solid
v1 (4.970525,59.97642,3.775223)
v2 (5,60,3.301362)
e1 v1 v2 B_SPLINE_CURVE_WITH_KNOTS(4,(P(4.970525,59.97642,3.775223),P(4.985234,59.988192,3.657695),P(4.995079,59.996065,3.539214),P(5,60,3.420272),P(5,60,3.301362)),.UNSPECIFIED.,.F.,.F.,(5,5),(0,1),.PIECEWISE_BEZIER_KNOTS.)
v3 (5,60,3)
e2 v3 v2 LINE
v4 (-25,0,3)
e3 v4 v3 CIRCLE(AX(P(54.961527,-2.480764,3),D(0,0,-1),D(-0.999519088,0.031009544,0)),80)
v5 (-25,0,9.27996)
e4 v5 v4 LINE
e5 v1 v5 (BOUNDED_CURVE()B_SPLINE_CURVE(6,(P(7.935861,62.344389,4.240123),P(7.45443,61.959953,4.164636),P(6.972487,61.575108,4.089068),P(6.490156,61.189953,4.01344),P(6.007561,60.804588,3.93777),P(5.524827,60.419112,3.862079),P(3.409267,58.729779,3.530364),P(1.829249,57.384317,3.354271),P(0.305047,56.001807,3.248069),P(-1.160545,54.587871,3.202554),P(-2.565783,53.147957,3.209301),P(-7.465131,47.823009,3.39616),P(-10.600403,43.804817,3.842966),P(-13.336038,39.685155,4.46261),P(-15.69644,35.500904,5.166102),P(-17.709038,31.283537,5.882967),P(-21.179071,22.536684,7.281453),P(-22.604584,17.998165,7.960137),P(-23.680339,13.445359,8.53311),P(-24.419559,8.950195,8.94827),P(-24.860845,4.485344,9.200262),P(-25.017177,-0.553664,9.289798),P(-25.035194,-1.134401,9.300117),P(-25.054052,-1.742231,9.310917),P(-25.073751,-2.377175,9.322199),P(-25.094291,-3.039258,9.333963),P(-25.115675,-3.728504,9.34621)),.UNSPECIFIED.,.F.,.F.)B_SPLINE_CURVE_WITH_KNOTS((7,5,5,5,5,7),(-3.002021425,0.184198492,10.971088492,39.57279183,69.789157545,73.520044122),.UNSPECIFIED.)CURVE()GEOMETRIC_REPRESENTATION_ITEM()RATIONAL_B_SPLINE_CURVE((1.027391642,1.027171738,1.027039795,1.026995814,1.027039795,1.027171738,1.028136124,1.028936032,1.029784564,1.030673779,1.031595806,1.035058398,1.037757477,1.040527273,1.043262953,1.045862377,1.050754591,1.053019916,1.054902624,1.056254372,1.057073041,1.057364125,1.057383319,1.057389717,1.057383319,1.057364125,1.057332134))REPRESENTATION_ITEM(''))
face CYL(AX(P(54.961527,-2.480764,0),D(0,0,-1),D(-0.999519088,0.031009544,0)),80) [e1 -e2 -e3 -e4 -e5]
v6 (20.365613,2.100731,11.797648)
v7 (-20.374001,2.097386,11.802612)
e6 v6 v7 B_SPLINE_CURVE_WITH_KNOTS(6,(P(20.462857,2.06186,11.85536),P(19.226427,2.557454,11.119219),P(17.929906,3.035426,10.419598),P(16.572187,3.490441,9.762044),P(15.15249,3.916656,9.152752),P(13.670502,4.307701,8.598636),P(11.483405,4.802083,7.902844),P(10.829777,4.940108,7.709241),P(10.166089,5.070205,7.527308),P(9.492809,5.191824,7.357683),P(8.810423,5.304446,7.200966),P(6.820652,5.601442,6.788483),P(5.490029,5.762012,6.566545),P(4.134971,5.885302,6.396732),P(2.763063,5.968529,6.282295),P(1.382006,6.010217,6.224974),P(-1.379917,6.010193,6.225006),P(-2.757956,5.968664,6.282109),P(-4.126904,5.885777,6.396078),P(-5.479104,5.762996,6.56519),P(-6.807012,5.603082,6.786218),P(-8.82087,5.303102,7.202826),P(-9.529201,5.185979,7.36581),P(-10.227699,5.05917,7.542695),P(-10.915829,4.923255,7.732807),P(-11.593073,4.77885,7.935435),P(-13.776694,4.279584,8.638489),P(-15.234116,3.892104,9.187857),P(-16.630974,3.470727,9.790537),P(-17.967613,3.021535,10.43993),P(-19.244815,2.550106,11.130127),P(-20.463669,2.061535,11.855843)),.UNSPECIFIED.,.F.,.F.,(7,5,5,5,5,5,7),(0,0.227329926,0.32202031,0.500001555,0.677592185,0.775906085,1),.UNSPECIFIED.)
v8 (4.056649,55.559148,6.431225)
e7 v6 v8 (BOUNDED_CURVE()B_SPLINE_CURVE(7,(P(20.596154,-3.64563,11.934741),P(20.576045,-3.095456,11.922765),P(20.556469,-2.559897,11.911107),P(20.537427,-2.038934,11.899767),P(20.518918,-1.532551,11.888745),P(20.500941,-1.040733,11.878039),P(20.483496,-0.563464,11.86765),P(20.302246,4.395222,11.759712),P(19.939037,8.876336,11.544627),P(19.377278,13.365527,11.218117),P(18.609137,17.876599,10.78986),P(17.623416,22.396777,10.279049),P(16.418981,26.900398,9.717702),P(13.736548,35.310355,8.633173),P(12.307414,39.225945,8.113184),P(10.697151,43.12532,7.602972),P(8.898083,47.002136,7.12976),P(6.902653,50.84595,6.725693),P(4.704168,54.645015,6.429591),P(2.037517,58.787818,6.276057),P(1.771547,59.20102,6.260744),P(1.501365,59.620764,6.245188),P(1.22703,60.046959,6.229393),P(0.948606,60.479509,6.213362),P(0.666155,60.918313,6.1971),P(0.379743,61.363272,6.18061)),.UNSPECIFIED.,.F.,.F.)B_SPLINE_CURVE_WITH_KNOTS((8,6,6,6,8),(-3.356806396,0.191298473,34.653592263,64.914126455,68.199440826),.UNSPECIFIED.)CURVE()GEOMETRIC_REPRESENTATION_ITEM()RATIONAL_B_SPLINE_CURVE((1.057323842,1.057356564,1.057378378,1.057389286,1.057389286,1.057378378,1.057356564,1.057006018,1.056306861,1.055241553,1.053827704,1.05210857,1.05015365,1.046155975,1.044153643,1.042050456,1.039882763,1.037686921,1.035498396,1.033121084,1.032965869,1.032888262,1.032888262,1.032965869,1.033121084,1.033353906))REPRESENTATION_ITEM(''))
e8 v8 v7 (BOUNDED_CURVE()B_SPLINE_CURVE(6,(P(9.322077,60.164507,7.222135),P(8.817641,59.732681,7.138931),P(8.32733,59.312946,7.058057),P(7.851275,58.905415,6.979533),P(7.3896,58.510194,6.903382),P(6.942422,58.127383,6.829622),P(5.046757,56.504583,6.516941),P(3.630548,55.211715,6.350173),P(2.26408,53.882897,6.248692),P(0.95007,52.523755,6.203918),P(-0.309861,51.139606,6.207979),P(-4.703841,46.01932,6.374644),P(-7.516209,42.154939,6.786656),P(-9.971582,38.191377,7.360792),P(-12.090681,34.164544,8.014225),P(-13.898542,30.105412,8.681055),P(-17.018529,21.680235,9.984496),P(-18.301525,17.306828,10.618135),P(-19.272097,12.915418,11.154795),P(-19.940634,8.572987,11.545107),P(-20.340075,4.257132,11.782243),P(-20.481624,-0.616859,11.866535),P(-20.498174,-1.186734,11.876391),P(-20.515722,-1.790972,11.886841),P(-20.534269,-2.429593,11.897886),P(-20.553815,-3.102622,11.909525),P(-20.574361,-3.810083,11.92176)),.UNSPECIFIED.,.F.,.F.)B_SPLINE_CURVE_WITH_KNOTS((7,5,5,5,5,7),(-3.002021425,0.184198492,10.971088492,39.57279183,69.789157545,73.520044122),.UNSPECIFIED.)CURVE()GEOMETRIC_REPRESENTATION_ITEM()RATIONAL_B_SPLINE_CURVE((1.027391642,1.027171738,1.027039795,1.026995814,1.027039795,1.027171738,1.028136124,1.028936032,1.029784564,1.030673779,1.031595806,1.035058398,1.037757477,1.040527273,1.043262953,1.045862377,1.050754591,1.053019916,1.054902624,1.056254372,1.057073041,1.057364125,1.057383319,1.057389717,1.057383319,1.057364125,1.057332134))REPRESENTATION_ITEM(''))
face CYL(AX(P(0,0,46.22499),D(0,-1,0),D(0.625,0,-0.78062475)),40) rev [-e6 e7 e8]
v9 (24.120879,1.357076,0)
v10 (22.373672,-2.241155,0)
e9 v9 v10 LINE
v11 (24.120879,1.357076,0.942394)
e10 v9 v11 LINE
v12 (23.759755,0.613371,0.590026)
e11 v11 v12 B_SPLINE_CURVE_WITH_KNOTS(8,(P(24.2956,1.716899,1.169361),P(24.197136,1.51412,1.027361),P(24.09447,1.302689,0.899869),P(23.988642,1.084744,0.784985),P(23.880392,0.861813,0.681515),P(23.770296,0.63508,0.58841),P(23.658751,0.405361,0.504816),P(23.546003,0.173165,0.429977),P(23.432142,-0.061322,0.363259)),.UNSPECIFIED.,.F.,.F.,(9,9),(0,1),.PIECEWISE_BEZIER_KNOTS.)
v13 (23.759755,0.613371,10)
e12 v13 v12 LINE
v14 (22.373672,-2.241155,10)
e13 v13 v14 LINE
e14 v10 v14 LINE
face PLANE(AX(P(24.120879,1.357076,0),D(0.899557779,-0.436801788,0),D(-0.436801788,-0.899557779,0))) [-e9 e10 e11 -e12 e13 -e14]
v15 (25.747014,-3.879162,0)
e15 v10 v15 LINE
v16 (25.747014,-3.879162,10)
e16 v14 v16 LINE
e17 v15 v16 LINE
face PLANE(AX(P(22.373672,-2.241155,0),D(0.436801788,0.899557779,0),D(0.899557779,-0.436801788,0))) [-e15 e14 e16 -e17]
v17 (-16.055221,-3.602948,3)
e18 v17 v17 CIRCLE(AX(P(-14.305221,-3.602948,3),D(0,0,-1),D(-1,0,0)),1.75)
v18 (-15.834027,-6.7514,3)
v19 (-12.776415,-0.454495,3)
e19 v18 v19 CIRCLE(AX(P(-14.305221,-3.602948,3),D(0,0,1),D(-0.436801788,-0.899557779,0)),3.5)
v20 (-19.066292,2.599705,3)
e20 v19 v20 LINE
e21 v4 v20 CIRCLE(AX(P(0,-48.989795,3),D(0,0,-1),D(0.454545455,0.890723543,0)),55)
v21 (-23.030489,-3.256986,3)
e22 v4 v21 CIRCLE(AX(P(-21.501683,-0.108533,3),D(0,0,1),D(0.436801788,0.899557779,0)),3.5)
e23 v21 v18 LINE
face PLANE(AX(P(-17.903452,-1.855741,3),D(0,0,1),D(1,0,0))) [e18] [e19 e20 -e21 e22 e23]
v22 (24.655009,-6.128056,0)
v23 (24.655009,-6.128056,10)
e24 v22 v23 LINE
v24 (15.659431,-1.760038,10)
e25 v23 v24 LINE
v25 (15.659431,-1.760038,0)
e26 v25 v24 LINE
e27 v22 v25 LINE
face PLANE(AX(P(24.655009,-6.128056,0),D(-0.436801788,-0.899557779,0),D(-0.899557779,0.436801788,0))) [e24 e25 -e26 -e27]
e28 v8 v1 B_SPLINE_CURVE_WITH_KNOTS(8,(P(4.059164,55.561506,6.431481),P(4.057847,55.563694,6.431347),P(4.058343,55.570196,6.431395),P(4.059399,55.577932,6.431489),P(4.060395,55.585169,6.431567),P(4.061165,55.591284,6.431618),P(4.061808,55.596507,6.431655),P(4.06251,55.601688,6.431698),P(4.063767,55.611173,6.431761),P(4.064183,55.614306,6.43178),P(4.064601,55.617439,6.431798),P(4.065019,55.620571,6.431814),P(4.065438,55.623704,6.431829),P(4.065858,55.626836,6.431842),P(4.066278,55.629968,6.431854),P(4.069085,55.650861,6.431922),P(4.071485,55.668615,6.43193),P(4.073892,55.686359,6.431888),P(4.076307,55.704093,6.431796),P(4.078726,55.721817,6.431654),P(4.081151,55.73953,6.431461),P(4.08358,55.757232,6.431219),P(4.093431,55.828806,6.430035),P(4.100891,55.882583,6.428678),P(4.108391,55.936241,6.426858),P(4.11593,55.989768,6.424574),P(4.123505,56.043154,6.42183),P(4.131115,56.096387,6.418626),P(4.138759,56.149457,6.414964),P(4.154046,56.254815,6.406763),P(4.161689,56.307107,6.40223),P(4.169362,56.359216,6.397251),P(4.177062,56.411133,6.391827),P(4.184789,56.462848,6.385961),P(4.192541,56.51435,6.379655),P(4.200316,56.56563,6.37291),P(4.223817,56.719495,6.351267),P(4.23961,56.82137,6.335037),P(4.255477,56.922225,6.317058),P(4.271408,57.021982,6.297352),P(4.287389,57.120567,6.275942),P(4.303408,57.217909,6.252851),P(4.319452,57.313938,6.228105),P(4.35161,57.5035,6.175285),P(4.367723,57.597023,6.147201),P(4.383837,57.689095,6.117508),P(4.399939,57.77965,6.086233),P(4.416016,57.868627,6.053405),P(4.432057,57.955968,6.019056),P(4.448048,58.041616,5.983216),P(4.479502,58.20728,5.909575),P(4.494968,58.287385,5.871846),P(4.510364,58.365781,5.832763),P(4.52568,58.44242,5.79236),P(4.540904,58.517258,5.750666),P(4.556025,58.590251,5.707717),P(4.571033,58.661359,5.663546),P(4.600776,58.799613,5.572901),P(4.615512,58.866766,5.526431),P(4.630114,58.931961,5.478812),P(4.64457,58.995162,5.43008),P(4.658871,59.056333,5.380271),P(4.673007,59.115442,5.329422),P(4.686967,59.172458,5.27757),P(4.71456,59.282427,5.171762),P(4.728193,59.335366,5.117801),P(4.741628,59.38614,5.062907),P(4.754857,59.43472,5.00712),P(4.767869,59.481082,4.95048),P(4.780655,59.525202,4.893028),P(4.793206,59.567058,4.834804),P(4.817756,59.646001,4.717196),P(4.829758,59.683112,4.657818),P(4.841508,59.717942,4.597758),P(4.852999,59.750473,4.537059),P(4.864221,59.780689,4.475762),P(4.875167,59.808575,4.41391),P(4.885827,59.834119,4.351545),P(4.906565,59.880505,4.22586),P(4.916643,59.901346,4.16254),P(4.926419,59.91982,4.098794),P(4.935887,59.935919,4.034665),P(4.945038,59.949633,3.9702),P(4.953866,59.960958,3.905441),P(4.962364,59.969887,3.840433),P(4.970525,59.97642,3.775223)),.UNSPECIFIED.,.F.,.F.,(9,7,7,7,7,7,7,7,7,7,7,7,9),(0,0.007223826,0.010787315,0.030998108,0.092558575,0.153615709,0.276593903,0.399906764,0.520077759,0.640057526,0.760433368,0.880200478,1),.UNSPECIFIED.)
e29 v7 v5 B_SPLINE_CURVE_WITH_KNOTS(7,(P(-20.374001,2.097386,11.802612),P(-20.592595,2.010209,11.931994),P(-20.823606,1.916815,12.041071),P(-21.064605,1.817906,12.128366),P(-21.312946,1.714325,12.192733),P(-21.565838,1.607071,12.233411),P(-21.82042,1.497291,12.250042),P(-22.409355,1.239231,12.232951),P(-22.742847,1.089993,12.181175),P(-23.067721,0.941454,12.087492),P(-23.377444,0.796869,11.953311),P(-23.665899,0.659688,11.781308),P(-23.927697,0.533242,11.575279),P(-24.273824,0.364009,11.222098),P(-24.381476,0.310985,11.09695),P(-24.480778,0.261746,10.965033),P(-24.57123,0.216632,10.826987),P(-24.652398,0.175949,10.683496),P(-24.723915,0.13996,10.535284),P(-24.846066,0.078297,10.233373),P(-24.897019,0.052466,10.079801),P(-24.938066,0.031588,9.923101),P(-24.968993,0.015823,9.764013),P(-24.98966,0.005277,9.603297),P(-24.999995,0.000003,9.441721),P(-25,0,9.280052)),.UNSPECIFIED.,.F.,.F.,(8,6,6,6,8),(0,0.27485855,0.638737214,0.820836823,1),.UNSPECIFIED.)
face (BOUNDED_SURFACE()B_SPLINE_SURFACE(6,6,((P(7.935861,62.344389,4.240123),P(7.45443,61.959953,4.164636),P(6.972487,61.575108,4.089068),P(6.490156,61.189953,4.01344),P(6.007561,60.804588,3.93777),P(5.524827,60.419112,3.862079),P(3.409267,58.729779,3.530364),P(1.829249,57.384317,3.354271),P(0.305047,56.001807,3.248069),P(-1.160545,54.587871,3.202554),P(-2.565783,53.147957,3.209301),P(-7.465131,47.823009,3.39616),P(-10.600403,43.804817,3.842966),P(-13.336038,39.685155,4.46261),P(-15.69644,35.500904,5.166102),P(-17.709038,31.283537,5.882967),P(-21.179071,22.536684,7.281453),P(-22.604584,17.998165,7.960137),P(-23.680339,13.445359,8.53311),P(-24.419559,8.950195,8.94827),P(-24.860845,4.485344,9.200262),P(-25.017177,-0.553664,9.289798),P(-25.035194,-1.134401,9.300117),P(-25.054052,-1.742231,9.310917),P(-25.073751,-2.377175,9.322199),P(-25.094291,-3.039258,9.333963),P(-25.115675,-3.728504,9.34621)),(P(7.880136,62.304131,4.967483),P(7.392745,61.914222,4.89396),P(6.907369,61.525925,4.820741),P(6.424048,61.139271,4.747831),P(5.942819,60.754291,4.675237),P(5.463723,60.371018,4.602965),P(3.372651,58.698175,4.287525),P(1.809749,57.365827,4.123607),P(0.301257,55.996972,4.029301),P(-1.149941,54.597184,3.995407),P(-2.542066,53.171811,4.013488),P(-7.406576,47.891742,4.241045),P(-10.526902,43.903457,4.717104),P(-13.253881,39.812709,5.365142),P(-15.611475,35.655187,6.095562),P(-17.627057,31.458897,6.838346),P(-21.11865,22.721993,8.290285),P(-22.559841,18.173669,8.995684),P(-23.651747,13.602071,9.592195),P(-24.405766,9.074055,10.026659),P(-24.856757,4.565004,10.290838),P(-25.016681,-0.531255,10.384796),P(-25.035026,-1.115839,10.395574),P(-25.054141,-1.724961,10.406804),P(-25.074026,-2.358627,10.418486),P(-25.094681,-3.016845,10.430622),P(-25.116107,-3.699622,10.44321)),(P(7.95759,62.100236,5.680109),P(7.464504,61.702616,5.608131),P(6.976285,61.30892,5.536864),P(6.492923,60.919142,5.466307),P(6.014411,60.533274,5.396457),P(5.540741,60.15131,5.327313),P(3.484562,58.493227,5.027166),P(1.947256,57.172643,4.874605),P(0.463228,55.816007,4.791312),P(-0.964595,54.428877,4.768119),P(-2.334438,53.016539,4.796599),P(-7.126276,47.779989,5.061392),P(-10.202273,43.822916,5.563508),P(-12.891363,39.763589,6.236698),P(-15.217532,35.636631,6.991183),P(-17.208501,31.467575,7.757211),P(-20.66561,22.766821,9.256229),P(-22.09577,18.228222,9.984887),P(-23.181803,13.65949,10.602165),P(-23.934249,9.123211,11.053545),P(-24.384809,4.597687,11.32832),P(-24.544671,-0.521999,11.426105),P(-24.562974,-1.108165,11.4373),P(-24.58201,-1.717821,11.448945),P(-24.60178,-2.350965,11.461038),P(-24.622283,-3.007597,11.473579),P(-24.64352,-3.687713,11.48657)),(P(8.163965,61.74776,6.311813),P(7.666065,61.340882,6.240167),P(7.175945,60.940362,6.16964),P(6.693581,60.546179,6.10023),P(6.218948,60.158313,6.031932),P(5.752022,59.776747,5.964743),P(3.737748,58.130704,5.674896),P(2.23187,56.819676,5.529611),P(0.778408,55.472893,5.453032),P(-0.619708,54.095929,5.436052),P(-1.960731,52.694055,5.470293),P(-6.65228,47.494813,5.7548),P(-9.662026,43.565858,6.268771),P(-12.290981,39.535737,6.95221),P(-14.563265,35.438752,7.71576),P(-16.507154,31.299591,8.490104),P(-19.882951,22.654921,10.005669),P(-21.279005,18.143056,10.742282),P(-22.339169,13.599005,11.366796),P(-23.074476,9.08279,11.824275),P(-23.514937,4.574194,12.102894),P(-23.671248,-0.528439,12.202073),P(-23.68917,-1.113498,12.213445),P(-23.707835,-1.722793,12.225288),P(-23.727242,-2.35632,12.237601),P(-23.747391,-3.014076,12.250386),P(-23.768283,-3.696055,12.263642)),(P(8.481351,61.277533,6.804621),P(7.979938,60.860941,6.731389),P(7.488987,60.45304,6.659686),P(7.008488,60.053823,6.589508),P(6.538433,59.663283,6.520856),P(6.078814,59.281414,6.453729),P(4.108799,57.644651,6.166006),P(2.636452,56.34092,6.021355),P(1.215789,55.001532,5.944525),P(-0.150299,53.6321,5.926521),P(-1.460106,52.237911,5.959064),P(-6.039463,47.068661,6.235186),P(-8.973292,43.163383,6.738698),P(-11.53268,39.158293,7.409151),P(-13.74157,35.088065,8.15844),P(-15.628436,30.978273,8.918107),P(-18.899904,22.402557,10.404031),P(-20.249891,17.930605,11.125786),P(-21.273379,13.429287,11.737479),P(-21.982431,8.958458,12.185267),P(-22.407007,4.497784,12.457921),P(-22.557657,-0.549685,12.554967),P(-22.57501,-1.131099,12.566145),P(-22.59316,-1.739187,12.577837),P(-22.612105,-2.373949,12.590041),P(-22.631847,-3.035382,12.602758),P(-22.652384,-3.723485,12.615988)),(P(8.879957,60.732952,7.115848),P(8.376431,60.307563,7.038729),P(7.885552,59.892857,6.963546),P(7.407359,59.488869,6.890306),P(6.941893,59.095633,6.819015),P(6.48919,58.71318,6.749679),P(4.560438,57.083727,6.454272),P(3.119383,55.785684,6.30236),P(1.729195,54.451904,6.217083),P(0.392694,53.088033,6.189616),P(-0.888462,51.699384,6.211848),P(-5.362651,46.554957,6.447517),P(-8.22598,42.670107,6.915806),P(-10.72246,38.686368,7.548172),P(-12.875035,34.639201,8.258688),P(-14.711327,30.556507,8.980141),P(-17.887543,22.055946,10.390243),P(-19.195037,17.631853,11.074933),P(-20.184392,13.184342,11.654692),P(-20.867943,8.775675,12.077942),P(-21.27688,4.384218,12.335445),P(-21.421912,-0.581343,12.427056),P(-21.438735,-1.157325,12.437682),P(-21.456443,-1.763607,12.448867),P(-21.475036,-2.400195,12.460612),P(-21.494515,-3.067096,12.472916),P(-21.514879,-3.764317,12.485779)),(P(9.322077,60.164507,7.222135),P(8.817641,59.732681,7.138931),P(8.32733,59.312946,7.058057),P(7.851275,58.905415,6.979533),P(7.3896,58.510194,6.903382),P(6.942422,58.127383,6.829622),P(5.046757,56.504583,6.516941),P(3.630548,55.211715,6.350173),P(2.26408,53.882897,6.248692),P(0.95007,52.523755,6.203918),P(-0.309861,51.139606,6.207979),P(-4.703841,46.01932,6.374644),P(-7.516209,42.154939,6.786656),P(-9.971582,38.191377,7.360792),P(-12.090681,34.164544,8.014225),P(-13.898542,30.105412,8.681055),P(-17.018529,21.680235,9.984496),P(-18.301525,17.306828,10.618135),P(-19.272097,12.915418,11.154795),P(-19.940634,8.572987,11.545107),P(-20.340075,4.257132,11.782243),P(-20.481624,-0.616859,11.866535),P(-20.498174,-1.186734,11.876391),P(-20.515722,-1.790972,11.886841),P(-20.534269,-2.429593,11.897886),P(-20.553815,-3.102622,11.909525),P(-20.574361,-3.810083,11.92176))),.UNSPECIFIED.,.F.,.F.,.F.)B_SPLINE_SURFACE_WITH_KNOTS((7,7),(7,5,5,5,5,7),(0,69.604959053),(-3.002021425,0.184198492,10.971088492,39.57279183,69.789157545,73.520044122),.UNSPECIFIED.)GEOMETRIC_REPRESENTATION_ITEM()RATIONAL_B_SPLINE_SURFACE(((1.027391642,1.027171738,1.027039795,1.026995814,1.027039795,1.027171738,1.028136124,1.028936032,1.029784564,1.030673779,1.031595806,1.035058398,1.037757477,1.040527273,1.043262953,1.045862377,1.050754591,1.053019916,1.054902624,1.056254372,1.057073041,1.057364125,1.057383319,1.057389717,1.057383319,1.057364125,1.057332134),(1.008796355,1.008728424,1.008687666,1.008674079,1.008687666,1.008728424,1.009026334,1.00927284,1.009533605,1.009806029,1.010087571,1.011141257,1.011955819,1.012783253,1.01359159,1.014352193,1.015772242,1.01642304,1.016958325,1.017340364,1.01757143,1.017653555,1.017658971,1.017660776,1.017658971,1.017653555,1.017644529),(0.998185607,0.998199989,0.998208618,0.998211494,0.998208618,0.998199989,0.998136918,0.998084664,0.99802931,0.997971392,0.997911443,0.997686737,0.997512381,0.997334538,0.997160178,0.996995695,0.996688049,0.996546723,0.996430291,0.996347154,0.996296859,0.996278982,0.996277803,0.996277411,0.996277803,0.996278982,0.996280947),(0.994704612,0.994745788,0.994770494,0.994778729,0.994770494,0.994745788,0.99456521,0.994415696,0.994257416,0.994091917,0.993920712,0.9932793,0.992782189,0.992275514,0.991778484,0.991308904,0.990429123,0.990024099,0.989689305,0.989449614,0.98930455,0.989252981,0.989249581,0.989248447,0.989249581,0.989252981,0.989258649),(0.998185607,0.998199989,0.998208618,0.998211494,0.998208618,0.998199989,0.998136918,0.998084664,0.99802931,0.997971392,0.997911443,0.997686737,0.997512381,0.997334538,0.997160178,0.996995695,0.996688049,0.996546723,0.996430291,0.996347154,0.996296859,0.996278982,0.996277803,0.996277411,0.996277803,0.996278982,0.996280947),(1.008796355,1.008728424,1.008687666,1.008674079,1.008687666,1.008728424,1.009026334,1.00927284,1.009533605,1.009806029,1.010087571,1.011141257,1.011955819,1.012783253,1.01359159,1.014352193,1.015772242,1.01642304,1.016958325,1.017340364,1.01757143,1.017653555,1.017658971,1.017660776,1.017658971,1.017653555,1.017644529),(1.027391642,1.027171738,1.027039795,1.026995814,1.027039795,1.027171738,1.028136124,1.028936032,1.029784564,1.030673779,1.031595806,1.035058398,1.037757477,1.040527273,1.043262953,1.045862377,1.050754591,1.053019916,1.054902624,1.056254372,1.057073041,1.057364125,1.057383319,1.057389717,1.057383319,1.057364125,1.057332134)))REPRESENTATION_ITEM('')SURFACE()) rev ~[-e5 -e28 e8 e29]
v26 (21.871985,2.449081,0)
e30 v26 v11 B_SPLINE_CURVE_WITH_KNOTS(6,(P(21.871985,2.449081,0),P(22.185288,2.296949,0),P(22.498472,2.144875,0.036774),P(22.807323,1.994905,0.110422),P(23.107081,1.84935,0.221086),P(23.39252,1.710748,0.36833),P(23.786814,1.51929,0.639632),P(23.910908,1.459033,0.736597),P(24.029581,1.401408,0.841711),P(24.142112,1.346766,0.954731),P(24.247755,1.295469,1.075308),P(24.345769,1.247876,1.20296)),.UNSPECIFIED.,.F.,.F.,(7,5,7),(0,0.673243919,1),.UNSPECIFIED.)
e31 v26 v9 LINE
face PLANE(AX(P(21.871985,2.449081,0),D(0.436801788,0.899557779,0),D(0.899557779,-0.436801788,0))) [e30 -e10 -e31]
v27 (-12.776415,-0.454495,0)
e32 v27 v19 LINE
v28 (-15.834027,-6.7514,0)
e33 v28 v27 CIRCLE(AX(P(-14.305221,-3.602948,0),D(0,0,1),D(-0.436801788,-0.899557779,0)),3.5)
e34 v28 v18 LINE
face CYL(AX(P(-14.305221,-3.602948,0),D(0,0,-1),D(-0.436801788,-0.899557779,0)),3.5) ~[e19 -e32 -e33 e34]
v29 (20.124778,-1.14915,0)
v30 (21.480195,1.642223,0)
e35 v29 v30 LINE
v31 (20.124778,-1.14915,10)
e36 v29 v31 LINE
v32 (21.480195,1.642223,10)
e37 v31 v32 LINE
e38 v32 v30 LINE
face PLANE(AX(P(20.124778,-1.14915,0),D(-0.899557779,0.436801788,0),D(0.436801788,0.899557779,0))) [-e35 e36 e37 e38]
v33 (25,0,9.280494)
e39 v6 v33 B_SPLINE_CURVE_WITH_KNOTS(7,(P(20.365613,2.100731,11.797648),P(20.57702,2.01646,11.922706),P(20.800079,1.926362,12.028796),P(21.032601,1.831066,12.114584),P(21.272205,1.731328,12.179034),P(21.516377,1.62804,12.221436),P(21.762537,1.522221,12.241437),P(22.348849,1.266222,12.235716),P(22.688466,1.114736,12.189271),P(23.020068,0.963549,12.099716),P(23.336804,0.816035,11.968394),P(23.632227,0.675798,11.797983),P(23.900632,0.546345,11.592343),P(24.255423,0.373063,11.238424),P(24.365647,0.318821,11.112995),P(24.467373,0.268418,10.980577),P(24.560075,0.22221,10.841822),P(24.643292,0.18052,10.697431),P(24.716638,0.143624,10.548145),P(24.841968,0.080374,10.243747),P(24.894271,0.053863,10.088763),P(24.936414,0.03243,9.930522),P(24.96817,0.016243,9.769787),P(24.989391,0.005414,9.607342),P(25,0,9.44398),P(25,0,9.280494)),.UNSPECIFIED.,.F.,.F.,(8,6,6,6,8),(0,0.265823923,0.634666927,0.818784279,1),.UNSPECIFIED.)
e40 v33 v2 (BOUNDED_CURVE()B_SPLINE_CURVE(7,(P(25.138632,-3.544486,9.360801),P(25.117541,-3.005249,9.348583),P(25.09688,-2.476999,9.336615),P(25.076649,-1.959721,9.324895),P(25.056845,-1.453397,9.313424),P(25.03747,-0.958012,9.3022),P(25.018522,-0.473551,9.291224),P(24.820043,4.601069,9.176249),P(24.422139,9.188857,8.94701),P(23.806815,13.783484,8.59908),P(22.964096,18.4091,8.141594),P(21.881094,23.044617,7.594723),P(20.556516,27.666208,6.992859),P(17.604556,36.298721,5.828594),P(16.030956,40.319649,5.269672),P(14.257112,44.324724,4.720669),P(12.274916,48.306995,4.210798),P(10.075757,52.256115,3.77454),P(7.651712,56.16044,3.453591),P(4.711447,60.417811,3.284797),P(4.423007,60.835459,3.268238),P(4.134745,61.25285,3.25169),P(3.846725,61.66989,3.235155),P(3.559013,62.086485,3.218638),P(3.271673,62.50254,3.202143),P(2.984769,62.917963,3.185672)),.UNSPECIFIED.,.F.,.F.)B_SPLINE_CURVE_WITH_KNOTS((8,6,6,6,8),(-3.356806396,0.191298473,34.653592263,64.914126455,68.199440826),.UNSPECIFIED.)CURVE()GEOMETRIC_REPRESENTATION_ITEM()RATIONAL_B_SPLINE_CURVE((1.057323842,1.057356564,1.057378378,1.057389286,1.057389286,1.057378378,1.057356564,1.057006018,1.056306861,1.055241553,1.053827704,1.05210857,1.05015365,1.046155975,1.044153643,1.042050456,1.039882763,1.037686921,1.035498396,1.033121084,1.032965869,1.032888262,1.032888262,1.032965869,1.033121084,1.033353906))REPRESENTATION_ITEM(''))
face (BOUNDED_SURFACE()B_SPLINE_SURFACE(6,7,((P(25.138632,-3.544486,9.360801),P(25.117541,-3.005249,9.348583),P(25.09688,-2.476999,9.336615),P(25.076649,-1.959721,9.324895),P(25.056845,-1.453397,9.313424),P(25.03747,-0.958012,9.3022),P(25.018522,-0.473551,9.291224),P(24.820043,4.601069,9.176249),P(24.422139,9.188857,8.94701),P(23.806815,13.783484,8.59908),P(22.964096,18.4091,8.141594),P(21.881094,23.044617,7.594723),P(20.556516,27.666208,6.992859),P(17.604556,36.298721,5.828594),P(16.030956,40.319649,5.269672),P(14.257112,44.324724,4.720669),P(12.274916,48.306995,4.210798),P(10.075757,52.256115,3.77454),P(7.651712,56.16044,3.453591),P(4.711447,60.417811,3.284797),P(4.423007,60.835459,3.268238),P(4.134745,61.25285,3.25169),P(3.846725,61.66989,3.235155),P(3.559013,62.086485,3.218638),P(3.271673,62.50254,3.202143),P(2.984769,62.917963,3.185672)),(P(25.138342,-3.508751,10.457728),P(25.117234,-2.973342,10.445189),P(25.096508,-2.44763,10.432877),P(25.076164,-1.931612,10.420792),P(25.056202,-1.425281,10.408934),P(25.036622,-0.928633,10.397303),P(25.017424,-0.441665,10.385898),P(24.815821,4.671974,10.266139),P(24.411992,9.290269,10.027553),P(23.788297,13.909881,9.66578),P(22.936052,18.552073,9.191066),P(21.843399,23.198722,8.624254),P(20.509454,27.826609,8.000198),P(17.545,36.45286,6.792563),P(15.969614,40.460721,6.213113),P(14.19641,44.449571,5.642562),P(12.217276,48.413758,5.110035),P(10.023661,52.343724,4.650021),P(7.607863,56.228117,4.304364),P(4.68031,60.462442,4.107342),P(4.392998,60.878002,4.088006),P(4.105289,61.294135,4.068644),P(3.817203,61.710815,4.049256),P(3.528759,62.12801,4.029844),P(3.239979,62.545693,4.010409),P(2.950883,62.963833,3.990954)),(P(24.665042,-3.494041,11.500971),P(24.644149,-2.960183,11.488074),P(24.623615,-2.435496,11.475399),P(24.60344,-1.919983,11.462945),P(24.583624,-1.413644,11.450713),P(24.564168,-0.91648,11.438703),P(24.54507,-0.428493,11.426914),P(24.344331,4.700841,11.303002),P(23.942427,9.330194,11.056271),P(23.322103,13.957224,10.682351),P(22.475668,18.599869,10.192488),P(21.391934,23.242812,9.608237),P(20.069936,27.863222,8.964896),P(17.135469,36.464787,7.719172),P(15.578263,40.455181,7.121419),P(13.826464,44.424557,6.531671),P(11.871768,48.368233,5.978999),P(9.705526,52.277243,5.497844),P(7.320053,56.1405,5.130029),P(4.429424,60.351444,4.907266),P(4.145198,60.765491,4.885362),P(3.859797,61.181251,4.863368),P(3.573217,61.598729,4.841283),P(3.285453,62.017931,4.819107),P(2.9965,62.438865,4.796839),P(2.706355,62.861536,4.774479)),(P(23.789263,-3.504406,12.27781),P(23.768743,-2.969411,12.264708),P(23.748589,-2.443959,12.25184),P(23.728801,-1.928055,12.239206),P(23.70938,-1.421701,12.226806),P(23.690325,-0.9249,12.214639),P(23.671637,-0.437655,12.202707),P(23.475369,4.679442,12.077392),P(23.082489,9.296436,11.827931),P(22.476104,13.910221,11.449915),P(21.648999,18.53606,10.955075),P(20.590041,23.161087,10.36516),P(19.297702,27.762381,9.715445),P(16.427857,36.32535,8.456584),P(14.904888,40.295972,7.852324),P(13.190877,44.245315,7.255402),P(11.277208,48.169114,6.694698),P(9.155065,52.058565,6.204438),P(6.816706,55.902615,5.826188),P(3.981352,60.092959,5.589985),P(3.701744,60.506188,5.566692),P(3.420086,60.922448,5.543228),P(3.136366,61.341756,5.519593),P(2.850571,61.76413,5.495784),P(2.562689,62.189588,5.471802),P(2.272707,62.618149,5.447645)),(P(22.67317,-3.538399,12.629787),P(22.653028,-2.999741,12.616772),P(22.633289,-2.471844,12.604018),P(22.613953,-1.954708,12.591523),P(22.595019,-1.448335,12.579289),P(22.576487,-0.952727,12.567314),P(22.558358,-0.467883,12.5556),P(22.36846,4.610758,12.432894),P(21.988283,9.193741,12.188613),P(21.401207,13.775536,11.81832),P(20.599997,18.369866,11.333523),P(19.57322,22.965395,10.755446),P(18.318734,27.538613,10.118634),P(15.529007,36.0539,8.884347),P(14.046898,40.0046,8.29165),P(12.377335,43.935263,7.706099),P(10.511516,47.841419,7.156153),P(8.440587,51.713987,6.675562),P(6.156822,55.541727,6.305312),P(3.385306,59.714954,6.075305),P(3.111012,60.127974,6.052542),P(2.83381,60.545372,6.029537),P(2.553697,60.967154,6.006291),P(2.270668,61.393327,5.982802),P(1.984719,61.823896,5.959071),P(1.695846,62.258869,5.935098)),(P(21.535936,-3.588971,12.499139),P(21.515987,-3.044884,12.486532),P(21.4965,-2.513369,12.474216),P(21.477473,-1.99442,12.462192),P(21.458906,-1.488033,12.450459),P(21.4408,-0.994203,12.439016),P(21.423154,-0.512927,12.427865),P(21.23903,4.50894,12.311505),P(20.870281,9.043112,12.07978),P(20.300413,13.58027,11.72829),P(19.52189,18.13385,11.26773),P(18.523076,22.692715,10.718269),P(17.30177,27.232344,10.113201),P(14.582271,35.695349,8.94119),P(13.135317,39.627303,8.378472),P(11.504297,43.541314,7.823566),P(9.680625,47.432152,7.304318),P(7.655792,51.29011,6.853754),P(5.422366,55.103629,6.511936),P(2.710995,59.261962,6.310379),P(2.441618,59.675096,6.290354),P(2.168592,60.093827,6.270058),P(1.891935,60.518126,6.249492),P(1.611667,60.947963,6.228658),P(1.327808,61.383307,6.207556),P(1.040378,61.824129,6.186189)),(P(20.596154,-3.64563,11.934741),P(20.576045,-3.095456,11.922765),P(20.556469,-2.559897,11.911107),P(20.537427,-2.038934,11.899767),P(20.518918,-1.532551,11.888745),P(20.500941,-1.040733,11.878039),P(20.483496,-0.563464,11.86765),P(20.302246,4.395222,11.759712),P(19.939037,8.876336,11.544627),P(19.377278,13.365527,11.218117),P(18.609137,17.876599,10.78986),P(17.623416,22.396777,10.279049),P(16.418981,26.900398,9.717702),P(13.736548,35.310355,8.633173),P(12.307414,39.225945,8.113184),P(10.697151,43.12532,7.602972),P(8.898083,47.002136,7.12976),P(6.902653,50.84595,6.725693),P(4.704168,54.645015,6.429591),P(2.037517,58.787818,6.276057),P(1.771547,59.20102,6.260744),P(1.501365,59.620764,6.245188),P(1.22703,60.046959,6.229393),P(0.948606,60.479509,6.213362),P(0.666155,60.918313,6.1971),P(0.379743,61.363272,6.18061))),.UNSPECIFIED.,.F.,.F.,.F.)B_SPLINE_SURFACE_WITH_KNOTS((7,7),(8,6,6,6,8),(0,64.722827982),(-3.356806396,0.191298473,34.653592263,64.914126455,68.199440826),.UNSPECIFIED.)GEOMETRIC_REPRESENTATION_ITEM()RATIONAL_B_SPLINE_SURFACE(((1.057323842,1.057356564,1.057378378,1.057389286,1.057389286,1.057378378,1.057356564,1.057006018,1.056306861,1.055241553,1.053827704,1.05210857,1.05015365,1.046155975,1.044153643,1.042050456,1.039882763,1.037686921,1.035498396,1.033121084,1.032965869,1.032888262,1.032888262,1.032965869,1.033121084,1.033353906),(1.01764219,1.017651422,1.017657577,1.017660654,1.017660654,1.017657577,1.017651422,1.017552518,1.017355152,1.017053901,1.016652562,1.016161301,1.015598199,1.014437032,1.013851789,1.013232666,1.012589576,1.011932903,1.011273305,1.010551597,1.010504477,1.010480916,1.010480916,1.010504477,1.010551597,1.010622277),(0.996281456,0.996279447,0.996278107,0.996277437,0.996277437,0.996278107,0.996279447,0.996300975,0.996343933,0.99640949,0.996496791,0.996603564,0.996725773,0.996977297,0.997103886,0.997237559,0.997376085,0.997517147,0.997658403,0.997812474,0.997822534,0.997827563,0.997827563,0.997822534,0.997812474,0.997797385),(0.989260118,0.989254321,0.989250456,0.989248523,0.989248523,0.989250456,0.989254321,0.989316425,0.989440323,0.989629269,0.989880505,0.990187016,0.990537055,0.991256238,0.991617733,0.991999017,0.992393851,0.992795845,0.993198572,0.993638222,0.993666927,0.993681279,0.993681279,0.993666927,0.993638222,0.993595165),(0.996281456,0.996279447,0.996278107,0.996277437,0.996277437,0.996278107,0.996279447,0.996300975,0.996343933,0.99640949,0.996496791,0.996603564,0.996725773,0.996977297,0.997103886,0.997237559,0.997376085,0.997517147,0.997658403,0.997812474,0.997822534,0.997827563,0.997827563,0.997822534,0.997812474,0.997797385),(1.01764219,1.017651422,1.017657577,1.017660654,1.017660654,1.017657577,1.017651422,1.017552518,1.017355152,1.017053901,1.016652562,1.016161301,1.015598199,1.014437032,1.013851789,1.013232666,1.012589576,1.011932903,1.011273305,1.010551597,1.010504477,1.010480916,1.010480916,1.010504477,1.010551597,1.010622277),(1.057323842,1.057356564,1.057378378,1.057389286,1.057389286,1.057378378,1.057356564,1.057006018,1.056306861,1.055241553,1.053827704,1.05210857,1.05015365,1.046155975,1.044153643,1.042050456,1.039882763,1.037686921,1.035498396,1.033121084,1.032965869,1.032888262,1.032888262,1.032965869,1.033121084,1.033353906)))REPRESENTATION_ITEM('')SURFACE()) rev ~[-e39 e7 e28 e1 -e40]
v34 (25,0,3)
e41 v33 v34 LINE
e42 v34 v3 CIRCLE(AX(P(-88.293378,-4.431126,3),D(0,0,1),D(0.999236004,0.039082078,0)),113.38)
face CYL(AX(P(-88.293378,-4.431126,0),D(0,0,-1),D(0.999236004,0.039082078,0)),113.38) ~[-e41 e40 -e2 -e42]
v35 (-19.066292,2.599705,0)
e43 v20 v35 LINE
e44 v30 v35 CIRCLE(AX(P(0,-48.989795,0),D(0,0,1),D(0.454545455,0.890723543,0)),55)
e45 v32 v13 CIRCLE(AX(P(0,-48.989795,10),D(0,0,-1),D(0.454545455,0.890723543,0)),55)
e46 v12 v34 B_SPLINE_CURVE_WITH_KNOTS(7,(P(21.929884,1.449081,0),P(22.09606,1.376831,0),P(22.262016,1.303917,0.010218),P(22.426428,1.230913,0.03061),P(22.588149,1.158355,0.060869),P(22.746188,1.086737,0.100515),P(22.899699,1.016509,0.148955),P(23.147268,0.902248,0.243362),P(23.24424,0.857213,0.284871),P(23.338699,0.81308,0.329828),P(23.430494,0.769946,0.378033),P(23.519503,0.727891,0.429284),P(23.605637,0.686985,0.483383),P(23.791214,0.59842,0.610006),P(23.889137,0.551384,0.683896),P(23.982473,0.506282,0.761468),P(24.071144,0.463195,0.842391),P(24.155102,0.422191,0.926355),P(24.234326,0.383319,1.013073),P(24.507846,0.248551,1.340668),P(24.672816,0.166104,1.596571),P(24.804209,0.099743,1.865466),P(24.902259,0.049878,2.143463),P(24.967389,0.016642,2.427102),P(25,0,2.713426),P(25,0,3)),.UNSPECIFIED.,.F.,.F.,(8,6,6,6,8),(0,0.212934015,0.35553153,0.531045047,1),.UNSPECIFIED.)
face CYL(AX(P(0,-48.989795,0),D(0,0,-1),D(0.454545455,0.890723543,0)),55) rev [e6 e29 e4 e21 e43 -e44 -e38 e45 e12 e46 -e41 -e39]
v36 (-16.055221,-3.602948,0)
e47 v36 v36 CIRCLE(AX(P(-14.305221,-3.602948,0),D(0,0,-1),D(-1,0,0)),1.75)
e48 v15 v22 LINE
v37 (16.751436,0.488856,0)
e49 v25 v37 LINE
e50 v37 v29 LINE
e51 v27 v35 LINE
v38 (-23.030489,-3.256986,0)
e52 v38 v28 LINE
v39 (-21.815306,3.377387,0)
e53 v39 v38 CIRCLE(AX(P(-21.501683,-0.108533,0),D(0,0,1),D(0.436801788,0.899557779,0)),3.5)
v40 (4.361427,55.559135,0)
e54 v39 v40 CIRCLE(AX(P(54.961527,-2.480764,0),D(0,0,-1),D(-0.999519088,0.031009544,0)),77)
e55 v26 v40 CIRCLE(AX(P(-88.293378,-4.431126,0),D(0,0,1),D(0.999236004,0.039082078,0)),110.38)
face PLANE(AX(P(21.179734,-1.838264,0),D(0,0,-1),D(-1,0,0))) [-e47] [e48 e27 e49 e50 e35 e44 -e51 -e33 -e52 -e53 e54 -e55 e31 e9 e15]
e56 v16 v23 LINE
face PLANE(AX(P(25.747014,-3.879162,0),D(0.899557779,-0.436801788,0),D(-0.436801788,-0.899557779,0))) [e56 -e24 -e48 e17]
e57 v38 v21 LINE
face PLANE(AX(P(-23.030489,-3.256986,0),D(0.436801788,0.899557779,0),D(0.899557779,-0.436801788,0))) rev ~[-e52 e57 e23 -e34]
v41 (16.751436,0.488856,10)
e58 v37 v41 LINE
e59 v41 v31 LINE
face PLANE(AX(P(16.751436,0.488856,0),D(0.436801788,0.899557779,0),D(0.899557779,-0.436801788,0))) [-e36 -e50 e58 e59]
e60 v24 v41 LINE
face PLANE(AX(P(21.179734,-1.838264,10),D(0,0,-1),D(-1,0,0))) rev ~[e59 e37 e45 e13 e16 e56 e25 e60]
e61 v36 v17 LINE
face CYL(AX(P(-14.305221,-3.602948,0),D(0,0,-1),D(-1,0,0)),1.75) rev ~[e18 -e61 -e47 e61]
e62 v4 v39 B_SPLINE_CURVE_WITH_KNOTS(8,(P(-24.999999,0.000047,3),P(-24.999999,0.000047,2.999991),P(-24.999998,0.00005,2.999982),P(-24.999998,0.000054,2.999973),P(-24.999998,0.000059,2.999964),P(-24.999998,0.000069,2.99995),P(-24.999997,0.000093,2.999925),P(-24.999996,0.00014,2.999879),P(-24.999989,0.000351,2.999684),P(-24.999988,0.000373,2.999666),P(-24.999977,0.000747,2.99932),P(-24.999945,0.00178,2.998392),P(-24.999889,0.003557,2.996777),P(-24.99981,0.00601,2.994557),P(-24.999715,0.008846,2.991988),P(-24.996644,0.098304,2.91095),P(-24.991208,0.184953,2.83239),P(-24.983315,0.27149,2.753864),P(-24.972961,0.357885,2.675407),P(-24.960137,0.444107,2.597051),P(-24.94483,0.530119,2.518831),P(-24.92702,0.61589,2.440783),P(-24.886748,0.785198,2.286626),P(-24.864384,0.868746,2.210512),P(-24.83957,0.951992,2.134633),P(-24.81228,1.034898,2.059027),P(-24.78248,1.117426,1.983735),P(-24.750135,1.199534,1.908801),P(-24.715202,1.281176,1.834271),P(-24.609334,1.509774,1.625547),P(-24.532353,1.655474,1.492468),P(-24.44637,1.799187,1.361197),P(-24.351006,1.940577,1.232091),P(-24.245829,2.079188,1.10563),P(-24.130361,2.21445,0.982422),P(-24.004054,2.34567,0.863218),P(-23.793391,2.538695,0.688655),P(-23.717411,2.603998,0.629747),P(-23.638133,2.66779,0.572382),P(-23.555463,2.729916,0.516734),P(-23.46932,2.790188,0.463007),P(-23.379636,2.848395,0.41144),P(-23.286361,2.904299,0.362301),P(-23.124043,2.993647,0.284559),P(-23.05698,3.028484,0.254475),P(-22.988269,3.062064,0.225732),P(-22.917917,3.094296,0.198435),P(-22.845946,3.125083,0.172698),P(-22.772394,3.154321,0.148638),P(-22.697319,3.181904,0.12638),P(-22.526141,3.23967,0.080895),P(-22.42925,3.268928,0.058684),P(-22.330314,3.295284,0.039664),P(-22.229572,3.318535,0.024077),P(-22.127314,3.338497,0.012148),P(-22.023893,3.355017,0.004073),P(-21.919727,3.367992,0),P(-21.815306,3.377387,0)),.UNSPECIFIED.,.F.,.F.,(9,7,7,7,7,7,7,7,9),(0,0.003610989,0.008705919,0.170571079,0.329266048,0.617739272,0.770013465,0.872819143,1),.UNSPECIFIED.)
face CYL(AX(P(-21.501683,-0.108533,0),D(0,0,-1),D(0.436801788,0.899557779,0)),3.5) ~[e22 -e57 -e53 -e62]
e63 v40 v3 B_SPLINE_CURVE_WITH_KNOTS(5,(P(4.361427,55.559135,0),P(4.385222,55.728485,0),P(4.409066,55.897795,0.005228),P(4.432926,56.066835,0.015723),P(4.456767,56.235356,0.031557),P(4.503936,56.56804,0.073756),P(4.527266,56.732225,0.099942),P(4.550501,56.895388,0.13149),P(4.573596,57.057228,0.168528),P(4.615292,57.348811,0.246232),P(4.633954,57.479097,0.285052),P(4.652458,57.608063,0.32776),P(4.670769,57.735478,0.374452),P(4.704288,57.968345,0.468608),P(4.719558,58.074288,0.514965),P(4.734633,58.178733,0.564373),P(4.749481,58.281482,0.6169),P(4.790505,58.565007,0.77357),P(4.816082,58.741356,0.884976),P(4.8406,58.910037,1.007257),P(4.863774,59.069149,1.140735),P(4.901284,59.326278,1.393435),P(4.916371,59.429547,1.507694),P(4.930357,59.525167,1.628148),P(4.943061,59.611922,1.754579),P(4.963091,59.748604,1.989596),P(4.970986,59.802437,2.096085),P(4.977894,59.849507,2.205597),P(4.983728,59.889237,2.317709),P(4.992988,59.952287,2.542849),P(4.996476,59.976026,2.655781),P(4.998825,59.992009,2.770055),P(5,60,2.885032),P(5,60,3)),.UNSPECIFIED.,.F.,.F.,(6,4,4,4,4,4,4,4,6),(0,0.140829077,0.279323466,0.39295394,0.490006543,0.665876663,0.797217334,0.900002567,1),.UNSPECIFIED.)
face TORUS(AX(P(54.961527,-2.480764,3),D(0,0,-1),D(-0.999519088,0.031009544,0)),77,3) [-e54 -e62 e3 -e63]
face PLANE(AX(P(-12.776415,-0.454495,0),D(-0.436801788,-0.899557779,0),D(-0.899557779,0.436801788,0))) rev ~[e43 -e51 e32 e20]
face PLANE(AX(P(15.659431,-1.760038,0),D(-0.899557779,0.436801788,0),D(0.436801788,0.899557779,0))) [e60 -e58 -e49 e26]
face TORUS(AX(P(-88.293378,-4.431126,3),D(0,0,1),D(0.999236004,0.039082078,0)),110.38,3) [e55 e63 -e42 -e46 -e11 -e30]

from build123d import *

# Parameters (mm, degrees)
ESBO_O1_W                         = 50
ESBO_O1_H                         = 15
RESSALTO_EXTRUS_O1_DEPTH          = 60
CORTE_EXTRUS_O1_REACH             = 68.708
CORTE_EXTRUS_O1_DIRECTION_2_DEPTH = 67.708320321
CORTE_EXTRUS_O2_REACH             = 68.708
CORTE_EXTRUS_O3_DEPTH             = 60
FILETE1_R                         = 3
CORTE_EXTRUS_O4_REACH             = 68.15
RESSALTO_EXTRUS_O2_DEPTH          = 3
RESSALTO_EXTRUS_O5_DEPTH          = 10
CORTE_EXTRUS_O5_REACH             = 68.436
ESBO_O13_R                        = 1.75


with BuildPart() as part:
    # Esboço1 → Ressalto-extrusão1 (new body)
    with BuildSketch(Plane(origin=(0, 0, 0), x_dir=(1, 0, 0), z_dir=(0, 1, 0))):
        with Locations((0, -7.5)):
            Rectangle(ESBO_O1_W, ESBO_O1_H)
    extrude(amount=RESSALTO_EXTRUS_O1_DEPTH)

    # Esboço2 → Corte-extrusão1 (cut, up to next)
    with BuildSketch(Plane.XY, mode=Mode.PRIVATE) as corte_extrus_o1_sk1:
        with BuildLine():
            Line((5, 60), (25, 60))
            Line((25, 60), (25, 0))
            ThreePointArc((25, 0), (19.26833423, 31.422778077), (5, 60))
        make_face()
    corte_extrus_o1_tool1 = extrude(corte_extrus_o1_sk1.sketch, amount=CORTE_EXTRUS_O1_REACH, mode=Mode.PRIVATE) & part.part
    add(corte_extrus_o1_tool1.solids().sort_by_distance((19.088208, 44.385781, 0))[0], mode=Mode.SUBTRACT)

    # Esboço2 → Corte-extrusão1 direction 2 (cut)
    with BuildSketch(Plane.XY):
        with BuildLine():
            Line((5, 60), (25, 60))
            Line((25, 60), (25, 0))
            ThreePointArc((25, 0), (19.26833423, 31.422778077), (5, 60))
        make_face()
    extrude(amount=-CORTE_EXTRUS_O1_DIRECTION_2_DEPTH, mode=Mode.SUBTRACT)

    # Esboço3 → Corte-extrusão2 (cut, up to next)
    with BuildSketch(Plane(origin=(0, 0, 0), x_dir=(-1, 0, 0), z_dir=(0, 0, -1)), mode=Mode.PRIVATE) as corte_extrus_o2_sk1:
        with BuildLine():
            Line((-5, 60), (25, 60))
            Line((25, 60), (25, 0))
            ThreePointArc((25, 0), (16.592648204, 33.296324102), (-5, 60))
        make_face()
    corte_extrus_o2_tool1 = extrude(corte_extrus_o2_sk1.sketch, amount=-CORTE_EXTRUS_O2_REACH, mode=Mode.PRIVATE) & part.part
    add(corte_extrus_o2_tool1.solids().sort_by_distance((-16.380123, 45.090511, 0))[0], mode=Mode.SUBTRACT)

    # Esboço4 → Corte-extrusão3 (cut)
    with BuildSketch(Plane.XZ):
        with BuildLine():
            Line((-25, 15), (25, 15))
            ThreePointArc((25, 15), (0, 6.224989992), (-25, 15))
        make_face()
    extrude(amount=-CORTE_EXTRUS_O3_DEPTH, mode=Mode.SUBTRACT)

    # Filete1
    filete1_edges = [part.edges().sort_by_distance(p)[0] for p in [
        (19.26833423, 31.422778077, 0),
        (-16.592648204, 33.296324102, 0),
        (-16.624702652, 33.232143265, 9.843411386),
        (19.254067789, 31.465549052, 11.163887998),
    ]]
    fillet(filete1_edges, radius=FILETE1_R)

    # Esboço5 → Corte-extrusão4 (cut, up to next)
    with BuildSketch(Plane.XY, mode=Mode.PRIVATE) as corte_extrus_o4_sk1:
        with BuildLine():
            Line((-25, 0), (25, 0))
            ThreePointArc((25, 0), (0, 6.010205144), (-25, 0))
        make_face()
    corte_extrus_o4_tool1 = extrude(corte_extrus_o4_sk1.sketch, amount=CORTE_EXTRUS_O4_REACH, mode=Mode.PRIVATE) & part.part
    add(corte_extrus_o4_tool1.solids().sort_by_distance((0, 2.415709, 0))[0], mode=Mode.SUBTRACT)

    # Esboço7 → Ressalto-extrusão2 (add)
    with BuildSketch(Plane(origin=(0, 0, 0), x_dir=(-1, 0, 0), z_dir=(0, 0, -1))):
        with BuildLine():
            Line((23.03048945, -3.256985631), (15.834027218, -6.751399938))
            ThreePointArc((15.834027218, -6.751399938), (11.156768732, -5.131753971), (12.7764147, -0.454495485))
            Line((12.7764147, -0.454495485), (19.972876931, 3.039918822))
            ThreePointArc((19.972876931, 3.039918822), (24.650135417, 1.420272855), (23.03048945, -3.256985631))
        make_face()
    extrude(amount=-RESSALTO_EXTRUS_O2_DEPTH)

    # Esboço12 → Ressalto-extrusão5 (add)
    with BuildSketch(Plane(origin=(0, 0, 0), x_dir=(-1, 0, 0), z_dir=(0, 0, -1))):
        Polygon((-24.120879113, 1.357076315), (-22.37367196, -2.241154801), (-25.747013631, -3.879161507), (-24.65500916, -6.128055954), (-15.659431371, -1.760038071), (-16.751435841, 0.488856377), (-20.124777513, -1.14915033), (-21.871984666, 2.449080786), align=None)
    extrude(amount=-RESSALTO_EXTRUS_O5_DEPTH)

    # Esboço13 → Corte-extrusão5 (cut, up to next)
    with BuildSketch(Plane(origin=(0, 0, 0), x_dir=(-1, 0, 0), z_dir=(0, 0, -1)), mode=Mode.PRIVATE) as corte_extrus_o5_sk1:
        with Locations((14.305220959, -3.602947712)):
            Circle(ESBO_O13_R)
    corte_extrus_o5_tool1 = extrude(corte_extrus_o5_sk1.sketch, amount=-CORTE_EXTRUS_O5_REACH, mode=Mode.PRIVATE) & part.part
    add(corte_extrus_o5_tool1.solids().sort_by_distance((-14.305221, -3.602948, 0))[0], mode=Mode.SUBTRACT)


solid = part.part
